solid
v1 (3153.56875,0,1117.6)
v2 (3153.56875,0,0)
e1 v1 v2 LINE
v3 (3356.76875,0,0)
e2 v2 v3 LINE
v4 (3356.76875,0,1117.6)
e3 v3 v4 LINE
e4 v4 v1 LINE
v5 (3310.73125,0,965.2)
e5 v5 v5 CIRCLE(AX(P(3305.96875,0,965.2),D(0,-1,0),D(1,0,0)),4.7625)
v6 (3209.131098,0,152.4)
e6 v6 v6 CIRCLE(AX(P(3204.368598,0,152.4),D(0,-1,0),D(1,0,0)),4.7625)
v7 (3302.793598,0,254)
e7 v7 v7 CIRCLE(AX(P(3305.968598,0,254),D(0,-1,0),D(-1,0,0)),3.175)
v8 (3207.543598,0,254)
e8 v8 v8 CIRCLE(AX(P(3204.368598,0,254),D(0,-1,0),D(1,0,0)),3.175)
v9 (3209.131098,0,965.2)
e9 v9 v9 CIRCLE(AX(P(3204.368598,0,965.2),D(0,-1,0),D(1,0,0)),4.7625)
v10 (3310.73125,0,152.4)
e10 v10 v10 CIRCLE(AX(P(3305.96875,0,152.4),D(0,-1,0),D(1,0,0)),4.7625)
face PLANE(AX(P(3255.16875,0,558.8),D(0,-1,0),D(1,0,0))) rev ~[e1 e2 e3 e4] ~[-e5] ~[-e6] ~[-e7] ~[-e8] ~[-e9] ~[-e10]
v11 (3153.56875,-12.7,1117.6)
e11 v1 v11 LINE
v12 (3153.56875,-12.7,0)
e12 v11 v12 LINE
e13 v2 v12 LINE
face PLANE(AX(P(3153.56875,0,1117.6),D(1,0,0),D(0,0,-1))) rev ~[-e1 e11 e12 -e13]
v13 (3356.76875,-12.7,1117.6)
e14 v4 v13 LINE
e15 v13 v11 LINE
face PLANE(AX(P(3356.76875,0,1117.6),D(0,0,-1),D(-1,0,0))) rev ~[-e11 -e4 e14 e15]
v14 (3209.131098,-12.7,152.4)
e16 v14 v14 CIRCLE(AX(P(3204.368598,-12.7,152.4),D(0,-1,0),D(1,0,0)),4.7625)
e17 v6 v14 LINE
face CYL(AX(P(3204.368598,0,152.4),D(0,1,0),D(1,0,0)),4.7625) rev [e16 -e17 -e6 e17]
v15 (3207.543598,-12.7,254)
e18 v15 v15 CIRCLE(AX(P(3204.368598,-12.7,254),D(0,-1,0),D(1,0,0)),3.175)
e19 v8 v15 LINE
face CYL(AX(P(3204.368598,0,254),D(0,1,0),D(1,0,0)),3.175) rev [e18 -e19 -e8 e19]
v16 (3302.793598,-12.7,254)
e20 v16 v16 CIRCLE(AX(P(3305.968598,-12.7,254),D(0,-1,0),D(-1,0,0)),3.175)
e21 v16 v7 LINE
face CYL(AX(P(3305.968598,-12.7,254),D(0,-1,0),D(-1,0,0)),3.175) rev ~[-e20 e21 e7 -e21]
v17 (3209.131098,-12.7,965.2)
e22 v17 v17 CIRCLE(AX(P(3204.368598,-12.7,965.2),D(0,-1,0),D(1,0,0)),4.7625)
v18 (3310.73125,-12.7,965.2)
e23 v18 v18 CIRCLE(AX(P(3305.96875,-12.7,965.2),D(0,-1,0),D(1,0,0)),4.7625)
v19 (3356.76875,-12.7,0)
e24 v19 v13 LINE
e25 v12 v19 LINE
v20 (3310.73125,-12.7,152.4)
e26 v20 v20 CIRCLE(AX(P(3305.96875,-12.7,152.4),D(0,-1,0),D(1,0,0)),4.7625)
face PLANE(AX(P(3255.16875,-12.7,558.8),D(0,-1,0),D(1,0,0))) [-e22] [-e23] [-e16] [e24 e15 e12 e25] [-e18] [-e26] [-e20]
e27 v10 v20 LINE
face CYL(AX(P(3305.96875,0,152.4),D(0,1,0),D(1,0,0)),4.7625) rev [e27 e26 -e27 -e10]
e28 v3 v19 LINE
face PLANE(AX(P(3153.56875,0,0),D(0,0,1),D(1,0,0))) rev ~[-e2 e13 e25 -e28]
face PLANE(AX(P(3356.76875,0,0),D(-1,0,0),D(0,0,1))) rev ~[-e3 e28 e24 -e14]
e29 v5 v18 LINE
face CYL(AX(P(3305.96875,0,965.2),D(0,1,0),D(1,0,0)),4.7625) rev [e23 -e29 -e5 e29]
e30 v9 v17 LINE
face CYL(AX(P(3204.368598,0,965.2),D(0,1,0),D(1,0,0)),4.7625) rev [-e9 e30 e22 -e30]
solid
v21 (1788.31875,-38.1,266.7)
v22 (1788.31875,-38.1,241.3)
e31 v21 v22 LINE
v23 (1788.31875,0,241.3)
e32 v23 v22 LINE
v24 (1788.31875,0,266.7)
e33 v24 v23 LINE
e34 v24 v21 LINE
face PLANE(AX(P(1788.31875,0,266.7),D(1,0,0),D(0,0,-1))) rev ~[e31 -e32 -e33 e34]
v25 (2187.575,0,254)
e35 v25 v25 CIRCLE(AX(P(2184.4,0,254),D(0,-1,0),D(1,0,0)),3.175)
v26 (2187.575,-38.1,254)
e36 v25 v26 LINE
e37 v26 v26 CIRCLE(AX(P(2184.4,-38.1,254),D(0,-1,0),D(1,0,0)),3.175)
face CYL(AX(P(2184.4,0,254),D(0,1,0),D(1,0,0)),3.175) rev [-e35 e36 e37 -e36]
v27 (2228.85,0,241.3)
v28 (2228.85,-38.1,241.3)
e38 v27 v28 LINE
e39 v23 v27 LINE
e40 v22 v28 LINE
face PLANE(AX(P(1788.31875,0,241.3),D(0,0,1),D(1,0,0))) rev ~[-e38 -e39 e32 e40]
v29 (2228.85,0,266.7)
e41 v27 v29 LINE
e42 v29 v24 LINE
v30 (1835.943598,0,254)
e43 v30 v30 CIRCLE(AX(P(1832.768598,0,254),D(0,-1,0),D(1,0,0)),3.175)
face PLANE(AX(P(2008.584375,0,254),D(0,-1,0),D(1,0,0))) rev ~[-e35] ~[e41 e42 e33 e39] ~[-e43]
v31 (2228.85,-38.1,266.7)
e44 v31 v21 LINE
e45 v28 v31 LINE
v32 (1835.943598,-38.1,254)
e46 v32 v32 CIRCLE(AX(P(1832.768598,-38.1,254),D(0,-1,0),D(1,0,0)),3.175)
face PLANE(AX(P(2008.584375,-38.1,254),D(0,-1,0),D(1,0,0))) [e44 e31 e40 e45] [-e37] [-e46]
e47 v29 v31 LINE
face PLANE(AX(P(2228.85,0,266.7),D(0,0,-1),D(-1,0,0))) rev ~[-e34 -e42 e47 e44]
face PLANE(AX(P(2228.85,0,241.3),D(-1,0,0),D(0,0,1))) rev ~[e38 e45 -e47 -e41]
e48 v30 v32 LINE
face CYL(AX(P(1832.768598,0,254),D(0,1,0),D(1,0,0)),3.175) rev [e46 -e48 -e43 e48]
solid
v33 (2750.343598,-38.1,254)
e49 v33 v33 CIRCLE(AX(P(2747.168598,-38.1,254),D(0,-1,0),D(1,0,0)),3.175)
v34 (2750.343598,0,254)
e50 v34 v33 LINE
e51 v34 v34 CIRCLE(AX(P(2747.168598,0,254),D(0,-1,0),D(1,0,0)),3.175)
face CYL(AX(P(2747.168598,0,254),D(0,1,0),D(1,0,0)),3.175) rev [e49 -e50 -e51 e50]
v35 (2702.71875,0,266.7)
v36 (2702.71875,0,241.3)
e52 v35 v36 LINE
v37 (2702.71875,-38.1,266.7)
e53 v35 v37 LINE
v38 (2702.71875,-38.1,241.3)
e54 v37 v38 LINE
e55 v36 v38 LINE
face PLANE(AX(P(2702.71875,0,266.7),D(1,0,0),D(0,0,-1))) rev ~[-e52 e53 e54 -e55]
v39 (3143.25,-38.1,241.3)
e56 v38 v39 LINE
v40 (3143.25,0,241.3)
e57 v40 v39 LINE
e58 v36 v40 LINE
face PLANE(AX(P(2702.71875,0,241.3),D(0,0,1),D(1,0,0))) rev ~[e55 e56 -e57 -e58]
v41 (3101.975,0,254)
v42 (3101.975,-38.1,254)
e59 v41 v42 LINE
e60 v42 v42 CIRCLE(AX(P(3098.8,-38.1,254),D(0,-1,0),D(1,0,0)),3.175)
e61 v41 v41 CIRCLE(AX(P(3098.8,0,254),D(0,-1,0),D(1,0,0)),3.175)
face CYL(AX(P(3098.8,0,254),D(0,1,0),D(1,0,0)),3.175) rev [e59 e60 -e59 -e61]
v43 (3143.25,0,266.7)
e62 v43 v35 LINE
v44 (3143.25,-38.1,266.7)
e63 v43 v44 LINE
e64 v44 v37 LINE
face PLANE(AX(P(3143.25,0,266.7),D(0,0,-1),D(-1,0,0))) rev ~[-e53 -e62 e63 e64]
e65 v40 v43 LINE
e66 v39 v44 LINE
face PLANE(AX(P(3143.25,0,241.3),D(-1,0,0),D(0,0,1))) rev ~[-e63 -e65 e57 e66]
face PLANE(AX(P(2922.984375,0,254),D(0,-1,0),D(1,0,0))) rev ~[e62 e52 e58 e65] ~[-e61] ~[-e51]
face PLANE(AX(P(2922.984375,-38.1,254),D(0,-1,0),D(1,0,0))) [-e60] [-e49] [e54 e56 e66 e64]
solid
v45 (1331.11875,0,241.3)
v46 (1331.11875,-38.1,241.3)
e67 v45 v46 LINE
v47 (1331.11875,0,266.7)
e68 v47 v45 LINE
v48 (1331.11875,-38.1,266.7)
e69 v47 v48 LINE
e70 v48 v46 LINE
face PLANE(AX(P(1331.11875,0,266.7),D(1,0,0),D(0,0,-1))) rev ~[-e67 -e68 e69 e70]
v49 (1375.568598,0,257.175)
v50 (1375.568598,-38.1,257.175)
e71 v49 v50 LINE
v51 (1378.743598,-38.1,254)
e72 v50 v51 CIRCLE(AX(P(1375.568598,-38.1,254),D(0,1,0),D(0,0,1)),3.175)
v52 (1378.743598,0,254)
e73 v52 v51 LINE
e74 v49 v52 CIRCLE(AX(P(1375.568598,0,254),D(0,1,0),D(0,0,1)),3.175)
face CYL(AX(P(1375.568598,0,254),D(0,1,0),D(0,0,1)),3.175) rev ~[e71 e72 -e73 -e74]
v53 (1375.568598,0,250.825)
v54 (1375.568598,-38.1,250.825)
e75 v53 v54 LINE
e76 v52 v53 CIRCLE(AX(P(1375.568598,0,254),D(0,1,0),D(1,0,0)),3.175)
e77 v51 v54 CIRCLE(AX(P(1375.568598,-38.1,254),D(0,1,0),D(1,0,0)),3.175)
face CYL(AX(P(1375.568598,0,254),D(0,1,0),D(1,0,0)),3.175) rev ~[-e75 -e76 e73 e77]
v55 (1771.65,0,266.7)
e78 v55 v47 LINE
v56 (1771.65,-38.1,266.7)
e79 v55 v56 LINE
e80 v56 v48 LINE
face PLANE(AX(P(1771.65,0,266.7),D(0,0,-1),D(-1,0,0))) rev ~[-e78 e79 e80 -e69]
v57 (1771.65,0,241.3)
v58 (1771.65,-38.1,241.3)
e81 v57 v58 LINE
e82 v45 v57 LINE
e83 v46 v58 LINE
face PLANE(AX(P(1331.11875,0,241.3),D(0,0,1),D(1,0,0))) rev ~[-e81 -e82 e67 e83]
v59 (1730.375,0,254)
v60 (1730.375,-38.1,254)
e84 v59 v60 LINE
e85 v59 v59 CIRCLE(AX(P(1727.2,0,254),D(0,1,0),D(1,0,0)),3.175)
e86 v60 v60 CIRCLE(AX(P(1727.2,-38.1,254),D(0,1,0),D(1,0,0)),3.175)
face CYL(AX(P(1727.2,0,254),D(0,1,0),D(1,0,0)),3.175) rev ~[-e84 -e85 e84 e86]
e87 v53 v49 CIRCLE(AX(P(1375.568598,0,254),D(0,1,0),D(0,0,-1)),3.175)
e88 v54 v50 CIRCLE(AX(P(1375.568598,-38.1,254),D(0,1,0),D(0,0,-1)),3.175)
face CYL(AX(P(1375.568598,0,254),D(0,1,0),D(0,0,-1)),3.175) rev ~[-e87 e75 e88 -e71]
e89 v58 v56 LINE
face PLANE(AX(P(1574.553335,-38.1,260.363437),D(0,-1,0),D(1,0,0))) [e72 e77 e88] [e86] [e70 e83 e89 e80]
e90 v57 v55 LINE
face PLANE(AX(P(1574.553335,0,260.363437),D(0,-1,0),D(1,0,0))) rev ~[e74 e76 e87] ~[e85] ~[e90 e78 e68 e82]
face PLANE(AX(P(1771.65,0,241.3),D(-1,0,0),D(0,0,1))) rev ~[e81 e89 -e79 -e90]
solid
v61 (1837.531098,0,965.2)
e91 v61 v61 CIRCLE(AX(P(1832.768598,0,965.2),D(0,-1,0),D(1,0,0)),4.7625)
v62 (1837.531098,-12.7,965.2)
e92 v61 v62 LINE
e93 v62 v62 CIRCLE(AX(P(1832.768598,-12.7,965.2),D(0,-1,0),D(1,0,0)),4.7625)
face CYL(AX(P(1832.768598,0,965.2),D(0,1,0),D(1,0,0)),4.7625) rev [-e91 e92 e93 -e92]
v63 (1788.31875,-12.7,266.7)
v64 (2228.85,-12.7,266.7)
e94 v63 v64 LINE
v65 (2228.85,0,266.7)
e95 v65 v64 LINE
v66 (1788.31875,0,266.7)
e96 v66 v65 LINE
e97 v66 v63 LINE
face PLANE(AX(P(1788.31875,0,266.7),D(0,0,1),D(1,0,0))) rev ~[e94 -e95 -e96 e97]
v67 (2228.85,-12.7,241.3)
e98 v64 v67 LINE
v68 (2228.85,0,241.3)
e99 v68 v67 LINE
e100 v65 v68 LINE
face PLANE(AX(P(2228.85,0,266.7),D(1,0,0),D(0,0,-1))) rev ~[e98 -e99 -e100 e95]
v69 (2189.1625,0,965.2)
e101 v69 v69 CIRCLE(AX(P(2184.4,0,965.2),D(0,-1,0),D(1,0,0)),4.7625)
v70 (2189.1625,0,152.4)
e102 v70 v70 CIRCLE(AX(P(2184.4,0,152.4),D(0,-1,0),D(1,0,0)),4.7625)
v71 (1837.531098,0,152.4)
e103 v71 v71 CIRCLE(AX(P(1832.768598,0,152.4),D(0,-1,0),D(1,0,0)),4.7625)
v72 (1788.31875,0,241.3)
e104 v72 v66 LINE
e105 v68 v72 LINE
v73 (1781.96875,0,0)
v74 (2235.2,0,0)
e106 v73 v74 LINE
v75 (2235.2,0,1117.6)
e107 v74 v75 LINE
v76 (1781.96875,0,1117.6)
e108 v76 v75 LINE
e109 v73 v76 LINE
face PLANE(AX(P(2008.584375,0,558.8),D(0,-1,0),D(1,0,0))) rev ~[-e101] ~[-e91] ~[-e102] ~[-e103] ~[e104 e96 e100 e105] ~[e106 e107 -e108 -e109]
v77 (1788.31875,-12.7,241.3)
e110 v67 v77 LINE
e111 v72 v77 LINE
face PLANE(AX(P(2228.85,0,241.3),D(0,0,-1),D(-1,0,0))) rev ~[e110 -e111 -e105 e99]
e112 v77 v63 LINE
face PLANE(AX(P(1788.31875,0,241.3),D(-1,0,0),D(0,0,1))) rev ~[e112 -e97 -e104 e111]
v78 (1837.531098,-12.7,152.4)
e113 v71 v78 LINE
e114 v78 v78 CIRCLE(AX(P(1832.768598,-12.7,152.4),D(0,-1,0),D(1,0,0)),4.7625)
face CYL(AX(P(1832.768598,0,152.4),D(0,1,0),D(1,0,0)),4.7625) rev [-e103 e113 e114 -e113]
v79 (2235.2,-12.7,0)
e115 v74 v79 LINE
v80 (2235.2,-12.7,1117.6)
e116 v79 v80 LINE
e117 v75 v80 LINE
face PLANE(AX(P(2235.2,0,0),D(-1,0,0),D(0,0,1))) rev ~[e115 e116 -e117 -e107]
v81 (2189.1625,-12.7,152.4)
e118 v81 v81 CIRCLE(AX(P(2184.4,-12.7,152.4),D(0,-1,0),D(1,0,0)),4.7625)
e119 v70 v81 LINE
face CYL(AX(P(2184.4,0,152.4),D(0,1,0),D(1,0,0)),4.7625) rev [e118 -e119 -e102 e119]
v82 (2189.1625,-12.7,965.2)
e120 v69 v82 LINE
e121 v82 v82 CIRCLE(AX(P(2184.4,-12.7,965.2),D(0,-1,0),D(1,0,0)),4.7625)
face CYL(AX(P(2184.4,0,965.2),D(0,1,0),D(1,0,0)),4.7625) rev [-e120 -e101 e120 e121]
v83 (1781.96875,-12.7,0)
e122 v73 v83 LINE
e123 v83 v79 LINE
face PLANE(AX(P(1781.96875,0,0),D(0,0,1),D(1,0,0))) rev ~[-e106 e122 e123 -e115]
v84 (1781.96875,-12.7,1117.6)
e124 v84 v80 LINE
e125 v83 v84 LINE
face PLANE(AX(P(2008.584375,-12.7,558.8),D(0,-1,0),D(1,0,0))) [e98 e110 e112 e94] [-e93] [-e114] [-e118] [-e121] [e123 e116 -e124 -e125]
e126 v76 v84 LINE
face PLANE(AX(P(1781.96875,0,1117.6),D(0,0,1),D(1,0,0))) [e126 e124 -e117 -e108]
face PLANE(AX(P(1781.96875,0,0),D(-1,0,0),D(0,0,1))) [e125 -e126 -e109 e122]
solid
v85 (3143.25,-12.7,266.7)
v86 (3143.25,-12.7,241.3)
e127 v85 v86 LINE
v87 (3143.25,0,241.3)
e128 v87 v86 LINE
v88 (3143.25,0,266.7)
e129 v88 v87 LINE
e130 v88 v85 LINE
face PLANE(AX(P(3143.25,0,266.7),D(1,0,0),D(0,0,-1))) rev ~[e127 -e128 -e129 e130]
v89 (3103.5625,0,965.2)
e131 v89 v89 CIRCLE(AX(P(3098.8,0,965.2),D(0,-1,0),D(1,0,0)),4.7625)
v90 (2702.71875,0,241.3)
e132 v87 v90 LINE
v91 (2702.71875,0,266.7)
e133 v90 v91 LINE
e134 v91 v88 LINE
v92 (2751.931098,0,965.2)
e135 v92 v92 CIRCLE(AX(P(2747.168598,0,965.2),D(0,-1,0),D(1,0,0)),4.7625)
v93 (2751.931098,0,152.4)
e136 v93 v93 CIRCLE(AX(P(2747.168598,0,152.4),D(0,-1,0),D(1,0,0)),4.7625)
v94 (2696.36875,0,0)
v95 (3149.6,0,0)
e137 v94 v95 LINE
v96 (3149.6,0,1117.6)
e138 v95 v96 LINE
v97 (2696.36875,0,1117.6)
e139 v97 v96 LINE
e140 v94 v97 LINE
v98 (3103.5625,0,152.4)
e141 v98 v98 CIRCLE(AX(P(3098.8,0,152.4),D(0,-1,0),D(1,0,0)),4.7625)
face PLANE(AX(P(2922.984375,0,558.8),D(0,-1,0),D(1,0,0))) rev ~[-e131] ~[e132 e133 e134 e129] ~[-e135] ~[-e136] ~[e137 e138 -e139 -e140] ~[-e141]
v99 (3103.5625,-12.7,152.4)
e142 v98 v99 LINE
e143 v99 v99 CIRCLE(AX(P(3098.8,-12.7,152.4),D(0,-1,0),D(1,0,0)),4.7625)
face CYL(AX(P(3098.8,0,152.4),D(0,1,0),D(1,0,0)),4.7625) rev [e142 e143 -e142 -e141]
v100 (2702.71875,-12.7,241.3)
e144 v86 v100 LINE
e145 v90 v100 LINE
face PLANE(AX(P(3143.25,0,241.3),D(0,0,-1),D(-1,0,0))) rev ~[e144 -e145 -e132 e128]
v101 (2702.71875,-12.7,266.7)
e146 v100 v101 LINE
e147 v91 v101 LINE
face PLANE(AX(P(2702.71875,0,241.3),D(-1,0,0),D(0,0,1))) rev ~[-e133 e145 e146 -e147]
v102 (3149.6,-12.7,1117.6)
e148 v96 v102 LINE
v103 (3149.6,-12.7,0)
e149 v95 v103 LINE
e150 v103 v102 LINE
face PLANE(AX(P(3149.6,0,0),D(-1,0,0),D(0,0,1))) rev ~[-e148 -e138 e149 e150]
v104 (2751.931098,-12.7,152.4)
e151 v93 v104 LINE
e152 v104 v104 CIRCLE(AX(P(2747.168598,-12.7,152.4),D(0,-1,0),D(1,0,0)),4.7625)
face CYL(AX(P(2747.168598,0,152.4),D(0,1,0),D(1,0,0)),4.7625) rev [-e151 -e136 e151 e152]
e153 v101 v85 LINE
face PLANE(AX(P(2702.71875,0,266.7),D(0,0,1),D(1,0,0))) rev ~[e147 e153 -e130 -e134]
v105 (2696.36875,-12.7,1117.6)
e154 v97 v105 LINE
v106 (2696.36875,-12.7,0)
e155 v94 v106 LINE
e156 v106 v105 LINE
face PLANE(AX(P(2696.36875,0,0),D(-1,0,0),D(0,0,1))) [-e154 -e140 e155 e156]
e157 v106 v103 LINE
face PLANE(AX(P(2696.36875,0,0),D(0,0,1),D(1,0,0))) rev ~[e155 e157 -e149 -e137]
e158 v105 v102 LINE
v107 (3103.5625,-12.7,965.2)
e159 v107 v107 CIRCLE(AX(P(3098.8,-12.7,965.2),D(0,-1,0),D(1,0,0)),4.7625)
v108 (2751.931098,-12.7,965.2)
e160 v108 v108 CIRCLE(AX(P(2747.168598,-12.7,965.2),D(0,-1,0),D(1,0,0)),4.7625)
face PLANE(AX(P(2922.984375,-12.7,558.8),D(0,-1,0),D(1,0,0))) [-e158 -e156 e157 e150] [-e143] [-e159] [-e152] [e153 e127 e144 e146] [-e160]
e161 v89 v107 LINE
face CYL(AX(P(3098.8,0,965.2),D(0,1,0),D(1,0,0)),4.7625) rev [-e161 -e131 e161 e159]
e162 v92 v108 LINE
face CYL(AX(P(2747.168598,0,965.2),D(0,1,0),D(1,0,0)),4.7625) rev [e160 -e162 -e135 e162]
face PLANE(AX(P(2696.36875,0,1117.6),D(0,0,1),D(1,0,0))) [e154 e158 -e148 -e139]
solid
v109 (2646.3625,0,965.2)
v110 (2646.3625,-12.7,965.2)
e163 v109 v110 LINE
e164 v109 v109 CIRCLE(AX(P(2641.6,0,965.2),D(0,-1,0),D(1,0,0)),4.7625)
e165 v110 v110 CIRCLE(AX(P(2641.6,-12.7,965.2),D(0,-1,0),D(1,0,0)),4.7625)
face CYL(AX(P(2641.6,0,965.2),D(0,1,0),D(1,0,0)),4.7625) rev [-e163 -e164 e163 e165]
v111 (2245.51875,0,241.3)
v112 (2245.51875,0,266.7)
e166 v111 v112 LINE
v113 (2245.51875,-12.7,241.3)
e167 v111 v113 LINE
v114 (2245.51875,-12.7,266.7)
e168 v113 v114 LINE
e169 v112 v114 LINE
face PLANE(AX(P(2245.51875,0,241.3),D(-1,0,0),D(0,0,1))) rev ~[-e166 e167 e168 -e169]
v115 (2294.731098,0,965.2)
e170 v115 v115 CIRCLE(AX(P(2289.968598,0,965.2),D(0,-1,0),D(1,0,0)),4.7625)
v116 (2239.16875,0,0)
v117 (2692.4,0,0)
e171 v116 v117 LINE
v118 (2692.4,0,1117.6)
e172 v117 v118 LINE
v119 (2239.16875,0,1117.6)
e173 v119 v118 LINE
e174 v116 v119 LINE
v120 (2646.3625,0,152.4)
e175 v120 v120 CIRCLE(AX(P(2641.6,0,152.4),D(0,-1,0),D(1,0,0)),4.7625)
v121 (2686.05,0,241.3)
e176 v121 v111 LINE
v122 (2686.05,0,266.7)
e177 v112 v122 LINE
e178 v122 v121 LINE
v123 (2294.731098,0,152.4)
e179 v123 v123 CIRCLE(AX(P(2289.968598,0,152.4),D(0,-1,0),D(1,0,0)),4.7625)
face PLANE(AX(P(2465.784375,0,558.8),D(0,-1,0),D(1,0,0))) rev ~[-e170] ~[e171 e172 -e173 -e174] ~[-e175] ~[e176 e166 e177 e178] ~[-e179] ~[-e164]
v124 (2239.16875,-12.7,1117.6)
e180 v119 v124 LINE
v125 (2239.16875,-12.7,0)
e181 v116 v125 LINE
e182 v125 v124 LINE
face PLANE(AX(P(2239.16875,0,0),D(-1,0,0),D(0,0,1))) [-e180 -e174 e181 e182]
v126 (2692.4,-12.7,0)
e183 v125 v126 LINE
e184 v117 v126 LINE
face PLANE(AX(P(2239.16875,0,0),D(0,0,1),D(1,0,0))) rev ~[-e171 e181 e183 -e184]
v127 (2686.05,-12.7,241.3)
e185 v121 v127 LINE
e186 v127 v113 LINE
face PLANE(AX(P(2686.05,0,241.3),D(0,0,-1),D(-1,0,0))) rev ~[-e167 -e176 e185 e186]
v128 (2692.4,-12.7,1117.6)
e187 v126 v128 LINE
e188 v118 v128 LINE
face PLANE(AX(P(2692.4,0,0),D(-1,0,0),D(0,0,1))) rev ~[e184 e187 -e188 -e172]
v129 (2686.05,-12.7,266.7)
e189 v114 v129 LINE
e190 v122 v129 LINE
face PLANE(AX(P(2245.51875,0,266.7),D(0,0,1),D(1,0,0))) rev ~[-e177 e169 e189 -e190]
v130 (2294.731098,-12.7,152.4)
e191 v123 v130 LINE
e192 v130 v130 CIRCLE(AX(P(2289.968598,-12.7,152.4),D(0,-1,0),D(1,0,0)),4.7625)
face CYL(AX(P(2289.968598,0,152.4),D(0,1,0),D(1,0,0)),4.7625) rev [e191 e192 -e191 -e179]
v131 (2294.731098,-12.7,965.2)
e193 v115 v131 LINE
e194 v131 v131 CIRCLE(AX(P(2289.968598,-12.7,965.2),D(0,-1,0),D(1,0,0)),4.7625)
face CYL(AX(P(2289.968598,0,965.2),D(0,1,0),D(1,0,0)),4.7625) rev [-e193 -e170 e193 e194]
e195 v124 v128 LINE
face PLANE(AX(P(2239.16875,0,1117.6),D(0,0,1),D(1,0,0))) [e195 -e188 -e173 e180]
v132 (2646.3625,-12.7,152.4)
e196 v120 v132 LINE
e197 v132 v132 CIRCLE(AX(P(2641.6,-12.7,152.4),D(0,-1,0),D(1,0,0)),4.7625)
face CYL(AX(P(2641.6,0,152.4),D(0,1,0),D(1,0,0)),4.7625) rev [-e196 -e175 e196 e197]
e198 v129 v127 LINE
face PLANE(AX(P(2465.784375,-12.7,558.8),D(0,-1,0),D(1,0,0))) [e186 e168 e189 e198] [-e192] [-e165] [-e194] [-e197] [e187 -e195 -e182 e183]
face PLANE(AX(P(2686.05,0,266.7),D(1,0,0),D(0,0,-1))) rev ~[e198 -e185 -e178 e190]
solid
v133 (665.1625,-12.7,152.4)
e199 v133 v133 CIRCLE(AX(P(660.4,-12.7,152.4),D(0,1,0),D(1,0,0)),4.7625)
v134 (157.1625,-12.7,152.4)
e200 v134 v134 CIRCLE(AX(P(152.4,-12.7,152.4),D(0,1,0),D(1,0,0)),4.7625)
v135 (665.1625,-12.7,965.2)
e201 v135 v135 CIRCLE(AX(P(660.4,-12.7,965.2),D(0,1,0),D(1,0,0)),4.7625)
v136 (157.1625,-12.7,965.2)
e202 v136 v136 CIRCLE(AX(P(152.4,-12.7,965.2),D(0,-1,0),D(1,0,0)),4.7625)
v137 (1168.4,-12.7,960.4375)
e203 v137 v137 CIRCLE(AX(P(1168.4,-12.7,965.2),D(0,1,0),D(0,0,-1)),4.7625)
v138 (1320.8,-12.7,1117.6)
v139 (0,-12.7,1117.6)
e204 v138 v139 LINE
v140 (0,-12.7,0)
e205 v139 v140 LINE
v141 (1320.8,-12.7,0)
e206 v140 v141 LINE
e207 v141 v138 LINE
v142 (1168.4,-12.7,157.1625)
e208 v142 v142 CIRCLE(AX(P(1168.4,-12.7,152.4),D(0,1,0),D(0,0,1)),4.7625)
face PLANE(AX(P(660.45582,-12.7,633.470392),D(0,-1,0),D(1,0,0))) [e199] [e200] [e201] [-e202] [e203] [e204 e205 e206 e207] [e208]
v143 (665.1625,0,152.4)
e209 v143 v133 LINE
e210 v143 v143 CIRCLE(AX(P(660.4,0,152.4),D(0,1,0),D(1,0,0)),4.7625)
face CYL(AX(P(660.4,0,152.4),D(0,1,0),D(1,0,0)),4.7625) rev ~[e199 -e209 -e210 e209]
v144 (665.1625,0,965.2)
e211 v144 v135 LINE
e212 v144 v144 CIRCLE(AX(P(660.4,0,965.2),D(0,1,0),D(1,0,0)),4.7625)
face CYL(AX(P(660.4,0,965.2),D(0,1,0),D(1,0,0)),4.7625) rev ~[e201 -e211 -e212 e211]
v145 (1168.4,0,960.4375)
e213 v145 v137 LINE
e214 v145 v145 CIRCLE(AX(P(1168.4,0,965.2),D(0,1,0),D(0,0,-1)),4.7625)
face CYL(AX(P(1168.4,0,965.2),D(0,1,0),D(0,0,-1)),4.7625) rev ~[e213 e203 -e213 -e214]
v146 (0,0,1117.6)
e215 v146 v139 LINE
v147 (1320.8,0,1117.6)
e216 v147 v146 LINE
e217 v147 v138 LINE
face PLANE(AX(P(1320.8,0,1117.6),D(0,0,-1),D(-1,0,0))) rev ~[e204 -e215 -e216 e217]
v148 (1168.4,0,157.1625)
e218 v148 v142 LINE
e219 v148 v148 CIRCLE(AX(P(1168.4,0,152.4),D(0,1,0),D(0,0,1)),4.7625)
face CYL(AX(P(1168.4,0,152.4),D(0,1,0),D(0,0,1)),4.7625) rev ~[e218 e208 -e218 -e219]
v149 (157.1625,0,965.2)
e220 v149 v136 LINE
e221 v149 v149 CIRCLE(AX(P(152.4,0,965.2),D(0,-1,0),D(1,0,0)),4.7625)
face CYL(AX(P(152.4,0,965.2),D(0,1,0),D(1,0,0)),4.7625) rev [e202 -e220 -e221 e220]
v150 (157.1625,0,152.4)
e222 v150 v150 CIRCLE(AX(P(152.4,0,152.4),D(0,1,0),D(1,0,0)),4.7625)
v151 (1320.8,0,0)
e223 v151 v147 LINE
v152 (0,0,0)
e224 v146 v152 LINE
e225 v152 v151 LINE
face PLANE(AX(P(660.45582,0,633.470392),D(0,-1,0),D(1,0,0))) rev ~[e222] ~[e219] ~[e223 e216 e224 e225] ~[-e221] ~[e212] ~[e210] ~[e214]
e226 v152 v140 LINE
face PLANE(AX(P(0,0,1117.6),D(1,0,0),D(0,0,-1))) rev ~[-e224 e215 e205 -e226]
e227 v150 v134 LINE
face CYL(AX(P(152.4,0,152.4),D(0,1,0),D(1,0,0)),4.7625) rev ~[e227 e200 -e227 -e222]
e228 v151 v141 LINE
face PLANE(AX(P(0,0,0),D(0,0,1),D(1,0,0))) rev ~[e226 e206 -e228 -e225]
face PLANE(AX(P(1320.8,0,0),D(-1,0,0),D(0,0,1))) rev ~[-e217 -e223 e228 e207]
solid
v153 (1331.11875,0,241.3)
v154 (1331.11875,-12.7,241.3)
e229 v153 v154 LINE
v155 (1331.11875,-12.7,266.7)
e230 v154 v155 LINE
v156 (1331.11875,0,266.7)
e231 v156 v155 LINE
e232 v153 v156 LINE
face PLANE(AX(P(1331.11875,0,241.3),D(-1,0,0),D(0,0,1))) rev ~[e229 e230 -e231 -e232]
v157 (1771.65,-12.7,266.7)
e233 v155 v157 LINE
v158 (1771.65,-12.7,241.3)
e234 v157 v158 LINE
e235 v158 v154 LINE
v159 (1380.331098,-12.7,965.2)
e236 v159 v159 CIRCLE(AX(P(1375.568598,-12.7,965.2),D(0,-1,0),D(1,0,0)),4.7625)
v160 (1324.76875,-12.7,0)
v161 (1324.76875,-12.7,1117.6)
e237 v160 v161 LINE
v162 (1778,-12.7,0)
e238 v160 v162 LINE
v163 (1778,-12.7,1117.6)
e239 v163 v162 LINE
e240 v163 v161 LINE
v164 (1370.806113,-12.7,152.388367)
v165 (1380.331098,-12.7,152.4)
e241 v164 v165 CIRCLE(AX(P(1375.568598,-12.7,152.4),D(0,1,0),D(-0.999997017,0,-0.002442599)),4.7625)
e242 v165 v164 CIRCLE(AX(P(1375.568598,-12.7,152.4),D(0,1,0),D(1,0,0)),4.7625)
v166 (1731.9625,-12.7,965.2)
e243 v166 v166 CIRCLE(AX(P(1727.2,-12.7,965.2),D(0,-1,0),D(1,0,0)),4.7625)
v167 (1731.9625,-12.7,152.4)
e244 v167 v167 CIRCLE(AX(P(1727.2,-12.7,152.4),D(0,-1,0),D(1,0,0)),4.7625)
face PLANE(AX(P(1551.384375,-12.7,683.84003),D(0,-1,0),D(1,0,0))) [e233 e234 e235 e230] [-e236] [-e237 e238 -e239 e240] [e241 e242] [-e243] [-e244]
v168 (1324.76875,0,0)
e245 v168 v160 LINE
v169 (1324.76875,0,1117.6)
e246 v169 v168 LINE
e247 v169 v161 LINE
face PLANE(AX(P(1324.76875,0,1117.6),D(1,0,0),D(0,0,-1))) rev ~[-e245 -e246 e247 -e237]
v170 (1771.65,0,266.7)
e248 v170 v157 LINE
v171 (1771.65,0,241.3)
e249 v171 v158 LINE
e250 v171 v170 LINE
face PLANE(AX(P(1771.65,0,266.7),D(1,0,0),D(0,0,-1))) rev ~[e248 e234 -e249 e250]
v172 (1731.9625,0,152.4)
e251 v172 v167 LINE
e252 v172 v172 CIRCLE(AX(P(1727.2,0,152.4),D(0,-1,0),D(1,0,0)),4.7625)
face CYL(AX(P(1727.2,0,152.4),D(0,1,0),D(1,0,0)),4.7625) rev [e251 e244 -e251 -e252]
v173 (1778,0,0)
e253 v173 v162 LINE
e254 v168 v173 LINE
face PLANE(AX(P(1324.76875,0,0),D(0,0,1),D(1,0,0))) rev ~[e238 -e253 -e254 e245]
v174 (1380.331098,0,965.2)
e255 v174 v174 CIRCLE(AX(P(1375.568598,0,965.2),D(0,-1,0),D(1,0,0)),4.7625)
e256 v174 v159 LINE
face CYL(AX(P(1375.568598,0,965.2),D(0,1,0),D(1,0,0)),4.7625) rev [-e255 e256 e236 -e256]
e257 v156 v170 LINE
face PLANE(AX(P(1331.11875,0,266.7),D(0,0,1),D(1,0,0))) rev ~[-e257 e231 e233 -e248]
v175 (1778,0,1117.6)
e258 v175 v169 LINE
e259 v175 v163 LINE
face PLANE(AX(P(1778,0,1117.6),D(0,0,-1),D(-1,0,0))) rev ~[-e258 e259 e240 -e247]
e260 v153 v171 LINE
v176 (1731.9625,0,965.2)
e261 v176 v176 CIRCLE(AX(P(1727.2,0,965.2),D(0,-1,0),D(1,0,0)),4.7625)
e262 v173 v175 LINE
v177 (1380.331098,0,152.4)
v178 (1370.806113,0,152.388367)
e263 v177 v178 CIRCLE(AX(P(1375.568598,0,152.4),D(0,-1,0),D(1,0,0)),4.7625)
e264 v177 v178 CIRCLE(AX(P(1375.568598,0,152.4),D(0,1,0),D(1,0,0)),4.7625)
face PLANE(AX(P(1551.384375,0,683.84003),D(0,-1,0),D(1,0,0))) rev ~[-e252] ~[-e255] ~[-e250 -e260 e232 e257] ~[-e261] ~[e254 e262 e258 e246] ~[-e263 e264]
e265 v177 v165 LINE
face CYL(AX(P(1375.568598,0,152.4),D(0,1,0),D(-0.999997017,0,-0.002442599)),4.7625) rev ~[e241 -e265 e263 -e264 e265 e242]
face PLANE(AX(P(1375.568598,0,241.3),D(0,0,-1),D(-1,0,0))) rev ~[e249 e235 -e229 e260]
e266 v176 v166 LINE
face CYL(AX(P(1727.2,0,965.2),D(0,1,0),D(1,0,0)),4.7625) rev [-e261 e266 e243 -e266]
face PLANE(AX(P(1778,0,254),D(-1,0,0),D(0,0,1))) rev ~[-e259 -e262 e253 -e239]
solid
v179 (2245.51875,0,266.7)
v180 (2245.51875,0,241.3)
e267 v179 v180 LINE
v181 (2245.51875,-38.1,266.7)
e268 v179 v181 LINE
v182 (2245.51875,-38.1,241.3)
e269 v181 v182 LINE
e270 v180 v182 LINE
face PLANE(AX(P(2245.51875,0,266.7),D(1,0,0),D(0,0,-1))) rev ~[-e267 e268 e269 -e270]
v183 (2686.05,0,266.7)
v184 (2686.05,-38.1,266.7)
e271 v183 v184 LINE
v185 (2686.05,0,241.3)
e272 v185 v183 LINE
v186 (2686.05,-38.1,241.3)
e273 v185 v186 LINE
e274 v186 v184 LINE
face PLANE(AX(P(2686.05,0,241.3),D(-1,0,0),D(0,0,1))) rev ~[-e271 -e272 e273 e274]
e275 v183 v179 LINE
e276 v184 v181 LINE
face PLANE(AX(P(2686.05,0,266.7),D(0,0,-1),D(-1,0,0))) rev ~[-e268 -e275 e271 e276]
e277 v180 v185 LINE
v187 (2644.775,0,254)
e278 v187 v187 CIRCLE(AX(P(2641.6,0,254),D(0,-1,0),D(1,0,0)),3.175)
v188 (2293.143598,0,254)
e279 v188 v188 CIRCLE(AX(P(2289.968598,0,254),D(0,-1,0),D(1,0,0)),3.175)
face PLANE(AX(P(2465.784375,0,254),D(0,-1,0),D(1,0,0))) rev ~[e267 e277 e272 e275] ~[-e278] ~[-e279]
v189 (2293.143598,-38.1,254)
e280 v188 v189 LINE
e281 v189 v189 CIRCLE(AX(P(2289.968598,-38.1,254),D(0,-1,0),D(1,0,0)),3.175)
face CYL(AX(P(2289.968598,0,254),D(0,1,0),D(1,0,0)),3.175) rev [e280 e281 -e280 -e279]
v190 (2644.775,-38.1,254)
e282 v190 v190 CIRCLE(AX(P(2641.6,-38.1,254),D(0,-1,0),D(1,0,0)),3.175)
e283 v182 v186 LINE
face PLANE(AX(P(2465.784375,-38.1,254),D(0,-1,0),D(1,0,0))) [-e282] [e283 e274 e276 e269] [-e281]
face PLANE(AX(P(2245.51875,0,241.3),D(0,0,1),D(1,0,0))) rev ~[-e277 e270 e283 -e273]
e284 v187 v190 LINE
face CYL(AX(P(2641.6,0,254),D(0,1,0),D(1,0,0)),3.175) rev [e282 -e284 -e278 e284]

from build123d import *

# Parameters (mm, degrees)
F0_R     = 4.7625
F1_DEPTH = 12.7
F0_W     = 453.23125
F0_H     = 1117.6
F0_R_2   = 3.175
F3_DEPTH = 12.7
F4_DEPTH = 12.7
F5_DEPTH = 38.1


with BuildPart() as f1:
    # F0 (on Front) → F1 (new body)
    with BuildSketch(Plane.XZ):
        with BuildLine():
            Line((0, 558.8), (0, 152.4))
            Line((0, 152.4), (147.6375, 152.4))
            ThreePointArc((147.6375, 152.4), (152.4, 157.1625), (157.1625, 152.4))
            Line((157.1625, 152.4), (655.6375, 152.4))
            ThreePointArc((655.6375, 152.4), (660.4, 157.1625), (665.1625, 152.4))
            Line((665.1625, 152.4), (1163.6375, 152.4))
            ThreePointArc((1163.6375, 152.4), (1165.0324039546, 155.7675960454), (1168.4, 157.1625))
            ThreePointArc((1168.4, 157.1625), (1171.7675960454, 155.7675960454), (1173.1625, 152.4))
            Line((1173.1625, 152.4), (1320.8, 152.4))
            Line((1320.8, 152.4), (1320.8, 1117.6))
            Line((1320.8, 1117.6), (0, 1117.6))
            Line((0, 1117.6), (0, 558.8))
        make_face()
        with Locations((152.4, 965.2)):
            Circle(F0_R, mode=Mode.SUBTRACT)
        with BuildLine():
            ThreePointArc((655.6375, 965.2), (660.4, 969.9625), (665.1625, 965.2))
            ThreePointArc((665.1625, 965.2), (660.4, 960.4375), (655.6375, 965.2))
        make_face(mode=Mode.SUBTRACT)
        with BuildLine():
            ThreePointArc((1173.1625, 965.2), (1171.7675960454, 961.8324039546), (1168.4, 960.4375))
            ThreePointArc((1168.4, 960.4375), (1165.0324039546, 961.8324039546), (1163.6375, 965.2))
            ThreePointArc((1163.6375, 965.2), (1168.4, 969.9625), (1173.1625, 965.2))
        make_face(mode=Mode.SUBTRACT)
        with BuildLine():
            Line((0, 152.4), (0, 0))
            Line((0, 0), (1320.8, 0))
            Line((1320.8, 0), (1320.8, 152.4))
            Line((1320.8, 152.4), (1173.1625, 152.4))
            ThreePointArc((1173.1625, 152.4), (1168.4, 147.6375), (1163.6375, 152.4))
            Line((1163.6375, 152.4), (665.1625, 152.4))
            ThreePointArc((665.1625, 152.4), (660.4, 147.6375), (655.6375, 152.4))
            Line((655.6375, 152.4), (157.1625, 152.4))
            ThreePointArc((157.1625, 152.4), (152.4, 147.6375), (147.6375, 152.4))
            Line((147.6375, 152.4), (0, 152.4))
        make_face()
    extrude(amount=F1_DEPTH)


with BuildPart() as f1b:
    # F0 (on Front) → F1, piece 2 (new body)
    with BuildSketch(Plane.XZ):
        with BuildLine():
            Line((1324.76875, 152.2759159598), (1324.76875, 0))
            Line((1324.76875, 0), (1778, 0))
            Line((1778, 0), (1778, 152.4))
            Line((1778, 152.4), (1778, 254))
            Line((1778, 254), (1771.65, 254))
            Line((1771.65, 254), (1771.65, 241.3))
            Line((1771.65, 241.3), (1375.568598456, 241.3))
            Line((1375.568598456, 241.3), (1375.568598456, 157.1625))
            ThreePointArc((1375.568598456, 157.1625), (1378.9361945014, 155.7675960454), (1380.331098456, 152.4))
            ThreePointArc((1380.331098456, 152.4), (1375.5744148997, 147.6375035518), (1370.8061126632, 152.3883671212))
            Line((1370.8061126632, 152.3883671212), (1324.76875, 152.2759159598))
        make_face()
        with Locations((1727.2, 152.4)):
            Circle(F0_R, mode=Mode.SUBTRACT)
    extrude(amount=F1_DEPTH)

    # F0 (on Front) → F4 (join)
    with BuildSketch(Plane.XZ):
        Polygon((1778, 1117.6), (1324.76875, 1117.6), (1324.76875, 254), (1331.11875, 254), (1331.11875, 266.7), (1375.568598456, 266.7), (1771.65, 266.7), (1771.65, 254), (1778, 254), align=None)
        with Locations((1375.568598456, 965.2)):
            Circle(F0_R, mode=Mode.SUBTRACT)
        with Locations((1727.2, 965.2)):
            Circle(F0_R, mode=Mode.SUBTRACT)
        with BuildLine():
            Line((1324.76875, 254), (1324.76875, 152.2759159598))
            Line((1324.76875, 152.2759159598), (1370.8061126632, 152.3883671212))
            ThreePointArc((1370.8061126632, 152.3883671212), (1372.1968920753, 155.7634806871), (1375.568598456, 157.1625))
            Line((1375.568598456, 157.1625), (1375.568598456, 241.3))
            Line((1375.568598456, 241.3), (1331.11875, 241.3))
            Line((1331.11875, 241.3), (1331.11875, 254))
            Line((1331.11875, 254), (1324.76875, 254))
        make_face()
    extrude(amount=F4_DEPTH)


with BuildPart() as f1c:
    # F0 (on Front) → F1, piece 3 (new body)
    with BuildSketch(Plane.XZ):
        with Locations((2008.584375, 558.8)):
            Rectangle(F0_W, F0_H)
        with Locations((1832.768598456, 152.4)):
            Circle(F0_R, mode=Mode.SUBTRACT)
        with Locations((2184.4, 152.4)):
            Circle(F0_R, mode=Mode.SUBTRACT)
        Polygon((2228.85, 254), (2228.85, 241.3), (1788.31875, 241.3), (1788.31875, 266.7), (2228.85, 266.7), align=None, mode=Mode.SUBTRACT)
        with Locations((1832.768598456, 965.2)):
            Circle(F0_R, mode=Mode.SUBTRACT)
        with Locations((2184.4, 965.2)):
            Circle(F0_R, mode=Mode.SUBTRACT)
    extrude(amount=F1_DEPTH)


with BuildPart() as f1d:
    # F0 (on Front) → F1, piece 4 (new body)
    with BuildSketch(Plane.XZ):
        with Locations((2465.784375, 558.8)):
            Rectangle(F0_W, F0_H)
        with Locations((2289.968598456, 152.4)):
            Circle(F0_R, mode=Mode.SUBTRACT)
        with Locations((2641.6, 152.4)):
            Circle(F0_R, mode=Mode.SUBTRACT)
        Polygon((2686.05, 254), (2686.05, 241.3), (2245.51875, 241.3), (2245.51875, 266.7), (2686.05, 266.7), align=None, mode=Mode.SUBTRACT)
        with Locations((2289.968598456, 965.2)):
            Circle(F0_R, mode=Mode.SUBTRACT)
        with Locations((2641.6, 965.2)):
            Circle(F0_R, mode=Mode.SUBTRACT)
    extrude(amount=F1_DEPTH)


with BuildPart() as f1e:
    # F0 (on Front) → F1, piece 5 (new body)
    with BuildSketch(Plane.XZ):
        with Locations((2922.984375, 558.8)):
            Rectangle(F0_W, F0_H)
        with Locations((2747.168598456, 152.4)):
            Circle(F0_R, mode=Mode.SUBTRACT)
        with Locations((3098.8, 152.4)):
            Circle(F0_R, mode=Mode.SUBTRACT)
        Polygon((3143.25, 254), (3143.25, 241.3), (2702.71875, 241.3), (2702.71875, 266.7), (3143.25, 266.7), align=None, mode=Mode.SUBTRACT)
        with Locations((2747.168598456, 965.2)):
            Circle(F0_R, mode=Mode.SUBTRACT)
        with Locations((3098.8, 965.2)):
            Circle(F0_R, mode=Mode.SUBTRACT)
    extrude(amount=F1_DEPTH)


with BuildPart() as f1f:
    # F0 (on Front) → F1, piece 6 (new body)
    with BuildSketch(Plane.XZ):
        Polygon((3153.56875, 1117.6), (3153.56875, 0), (3356.76875, 0), (3356.76875, 152.4), (3356.76875, 965.2), (3356.76875, 1117.6), align=None)
        with Locations((3204.368598456, 152.4)):
            Circle(F0_R, mode=Mode.SUBTRACT)
        with Locations((3305.96875, 152.4)):
            Circle(F0_R, mode=Mode.SUBTRACT)
        with Locations((3204.368598456, 254)):
            Circle(F0_R_2, mode=Mode.SUBTRACT)
        with Locations((3204.368598456, 965.2)):
            Circle(F0_R, mode=Mode.SUBTRACT)
        with Locations((3305.96875, 965.2)):
            Circle(F0_R, mode=Mode.SUBTRACT)
    extrude(amount=F1_DEPTH)

    # F2 (on face) → F3 (cut)
    with BuildSketch(Plane.XZ.offset(12.7)):
        with BuildLine():
            ThreePointArc((3309.143598456, 254), (3305.968598456, 257.175), (3302.793598456, 254))
            ThreePointArc((3302.793598456, 254), (3305.968598456, 250.825), (3309.143598456, 254))
        make_face()
    extrude(amount=-F3_DEPTH, mode=Mode.SUBTRACT)


with BuildPart() as f5:
    # F0 (on Front) → F5 (new body)
    with BuildSketch(Plane.XZ):
        with BuildLine():
            Line((1730.375, 254), (1771.65, 254))
            Line((1771.65, 254), (1771.65, 266.7))
            Line((1771.65, 266.7), (1375.568598456, 266.7))
            Line((1375.568598456, 266.7), (1375.568598456, 257.175))
            ThreePointArc((1375.568598456, 257.175), (1377.8136624863, 256.2450640303), (1378.743598456, 254))
            Line((1378.743598456, 254), (1724.025, 254))
            ThreePointArc((1724.025, 254), (1727.2, 257.175), (1730.375, 254))
        make_face()
        with BuildLine():
            Line((1331.11875, 266.7), (1331.11875, 254))
            Line((1331.11875, 254), (1331.11875, 241.3))
            Line((1331.11875, 241.3), (1375.568598456, 241.3))
            Line((1375.568598456, 241.3), (1375.568598456, 250.825))
            ThreePointArc((1375.568598456, 250.825), (1372.393598456, 254), (1375.568598456, 257.175))
            Line((1375.568598456, 257.175), (1375.568598456, 266.7))
            Line((1375.568598456, 266.7), (1331.11875, 266.7))
        make_face()
        with BuildLine():
            Line((1375.568598456, 250.825), (1375.568598456, 241.3))
            Line((1375.568598456, 241.3), (1771.65, 241.3))
            Line((1771.65, 241.3), (1771.65, 254))
            Line((1771.65, 254), (1730.375, 254))
            ThreePointArc((1730.375, 254), (1727.2, 250.825), (1724.025, 254))
            Line((1724.025, 254), (1378.743598456, 254))
            ThreePointArc((1378.743598456, 254), (1377.8136624863, 251.7549359697), (1375.568598456, 250.825))
        make_face()
    extrude(amount=F5_DEPTH)


with BuildPart() as f5b:
    # F0 (on Front) → F5, piece 2 (new body)
    with BuildSketch(Plane.XZ):
        Polygon((1788.31875, 241.3), (2228.85, 241.3), (2228.85, 254), (2228.85, 266.7), (1788.31875, 266.7), align=None)
        with Locations((1832.768598456, 254)):
            Circle(F0_R_2, mode=Mode.SUBTRACT)
        with Locations((2184.4, 254)):
            Circle(F0_R_2, mode=Mode.SUBTRACT)
    extrude(amount=F5_DEPTH)


with BuildPart() as f5c:
    # F0 (on Front) → F5, piece 3 (new body)
    with BuildSketch(Plane.XZ):
        Polygon((2245.51875, 241.3), (2686.05, 241.3), (2686.05, 254), (2686.05, 266.7), (2245.51875, 266.7), align=None)
        with Locations((2289.968598456, 254)):
            Circle(F0_R_2, mode=Mode.SUBTRACT)
        with Locations((2641.6, 254)):
            Circle(F0_R_2, mode=Mode.SUBTRACT)
    extrude(amount=F5_DEPTH)


with BuildPart() as f5d:
    # F0 (on Front) → F5, piece 4 (new body)
    with BuildSketch(Plane.XZ):
        Polygon((2702.71875, 241.3), (3143.25, 241.3), (3143.25, 254), (3143.25, 266.7), (2702.71875, 266.7), align=None)
        with Locations((2747.168598456, 254)):
            Circle(F0_R_2, mode=Mode.SUBTRACT)
        with Locations((3098.8, 254)):
            Circle(F0_R_2, mode=Mode.SUBTRACT)
    extrude(amount=F5_DEPTH)


solid = Compound([f1.part, f1b.part, f1c.part, f1d.part, f1e.part, f1f.part, f5.part, f5b.part, f5c.part, f5d.part])
